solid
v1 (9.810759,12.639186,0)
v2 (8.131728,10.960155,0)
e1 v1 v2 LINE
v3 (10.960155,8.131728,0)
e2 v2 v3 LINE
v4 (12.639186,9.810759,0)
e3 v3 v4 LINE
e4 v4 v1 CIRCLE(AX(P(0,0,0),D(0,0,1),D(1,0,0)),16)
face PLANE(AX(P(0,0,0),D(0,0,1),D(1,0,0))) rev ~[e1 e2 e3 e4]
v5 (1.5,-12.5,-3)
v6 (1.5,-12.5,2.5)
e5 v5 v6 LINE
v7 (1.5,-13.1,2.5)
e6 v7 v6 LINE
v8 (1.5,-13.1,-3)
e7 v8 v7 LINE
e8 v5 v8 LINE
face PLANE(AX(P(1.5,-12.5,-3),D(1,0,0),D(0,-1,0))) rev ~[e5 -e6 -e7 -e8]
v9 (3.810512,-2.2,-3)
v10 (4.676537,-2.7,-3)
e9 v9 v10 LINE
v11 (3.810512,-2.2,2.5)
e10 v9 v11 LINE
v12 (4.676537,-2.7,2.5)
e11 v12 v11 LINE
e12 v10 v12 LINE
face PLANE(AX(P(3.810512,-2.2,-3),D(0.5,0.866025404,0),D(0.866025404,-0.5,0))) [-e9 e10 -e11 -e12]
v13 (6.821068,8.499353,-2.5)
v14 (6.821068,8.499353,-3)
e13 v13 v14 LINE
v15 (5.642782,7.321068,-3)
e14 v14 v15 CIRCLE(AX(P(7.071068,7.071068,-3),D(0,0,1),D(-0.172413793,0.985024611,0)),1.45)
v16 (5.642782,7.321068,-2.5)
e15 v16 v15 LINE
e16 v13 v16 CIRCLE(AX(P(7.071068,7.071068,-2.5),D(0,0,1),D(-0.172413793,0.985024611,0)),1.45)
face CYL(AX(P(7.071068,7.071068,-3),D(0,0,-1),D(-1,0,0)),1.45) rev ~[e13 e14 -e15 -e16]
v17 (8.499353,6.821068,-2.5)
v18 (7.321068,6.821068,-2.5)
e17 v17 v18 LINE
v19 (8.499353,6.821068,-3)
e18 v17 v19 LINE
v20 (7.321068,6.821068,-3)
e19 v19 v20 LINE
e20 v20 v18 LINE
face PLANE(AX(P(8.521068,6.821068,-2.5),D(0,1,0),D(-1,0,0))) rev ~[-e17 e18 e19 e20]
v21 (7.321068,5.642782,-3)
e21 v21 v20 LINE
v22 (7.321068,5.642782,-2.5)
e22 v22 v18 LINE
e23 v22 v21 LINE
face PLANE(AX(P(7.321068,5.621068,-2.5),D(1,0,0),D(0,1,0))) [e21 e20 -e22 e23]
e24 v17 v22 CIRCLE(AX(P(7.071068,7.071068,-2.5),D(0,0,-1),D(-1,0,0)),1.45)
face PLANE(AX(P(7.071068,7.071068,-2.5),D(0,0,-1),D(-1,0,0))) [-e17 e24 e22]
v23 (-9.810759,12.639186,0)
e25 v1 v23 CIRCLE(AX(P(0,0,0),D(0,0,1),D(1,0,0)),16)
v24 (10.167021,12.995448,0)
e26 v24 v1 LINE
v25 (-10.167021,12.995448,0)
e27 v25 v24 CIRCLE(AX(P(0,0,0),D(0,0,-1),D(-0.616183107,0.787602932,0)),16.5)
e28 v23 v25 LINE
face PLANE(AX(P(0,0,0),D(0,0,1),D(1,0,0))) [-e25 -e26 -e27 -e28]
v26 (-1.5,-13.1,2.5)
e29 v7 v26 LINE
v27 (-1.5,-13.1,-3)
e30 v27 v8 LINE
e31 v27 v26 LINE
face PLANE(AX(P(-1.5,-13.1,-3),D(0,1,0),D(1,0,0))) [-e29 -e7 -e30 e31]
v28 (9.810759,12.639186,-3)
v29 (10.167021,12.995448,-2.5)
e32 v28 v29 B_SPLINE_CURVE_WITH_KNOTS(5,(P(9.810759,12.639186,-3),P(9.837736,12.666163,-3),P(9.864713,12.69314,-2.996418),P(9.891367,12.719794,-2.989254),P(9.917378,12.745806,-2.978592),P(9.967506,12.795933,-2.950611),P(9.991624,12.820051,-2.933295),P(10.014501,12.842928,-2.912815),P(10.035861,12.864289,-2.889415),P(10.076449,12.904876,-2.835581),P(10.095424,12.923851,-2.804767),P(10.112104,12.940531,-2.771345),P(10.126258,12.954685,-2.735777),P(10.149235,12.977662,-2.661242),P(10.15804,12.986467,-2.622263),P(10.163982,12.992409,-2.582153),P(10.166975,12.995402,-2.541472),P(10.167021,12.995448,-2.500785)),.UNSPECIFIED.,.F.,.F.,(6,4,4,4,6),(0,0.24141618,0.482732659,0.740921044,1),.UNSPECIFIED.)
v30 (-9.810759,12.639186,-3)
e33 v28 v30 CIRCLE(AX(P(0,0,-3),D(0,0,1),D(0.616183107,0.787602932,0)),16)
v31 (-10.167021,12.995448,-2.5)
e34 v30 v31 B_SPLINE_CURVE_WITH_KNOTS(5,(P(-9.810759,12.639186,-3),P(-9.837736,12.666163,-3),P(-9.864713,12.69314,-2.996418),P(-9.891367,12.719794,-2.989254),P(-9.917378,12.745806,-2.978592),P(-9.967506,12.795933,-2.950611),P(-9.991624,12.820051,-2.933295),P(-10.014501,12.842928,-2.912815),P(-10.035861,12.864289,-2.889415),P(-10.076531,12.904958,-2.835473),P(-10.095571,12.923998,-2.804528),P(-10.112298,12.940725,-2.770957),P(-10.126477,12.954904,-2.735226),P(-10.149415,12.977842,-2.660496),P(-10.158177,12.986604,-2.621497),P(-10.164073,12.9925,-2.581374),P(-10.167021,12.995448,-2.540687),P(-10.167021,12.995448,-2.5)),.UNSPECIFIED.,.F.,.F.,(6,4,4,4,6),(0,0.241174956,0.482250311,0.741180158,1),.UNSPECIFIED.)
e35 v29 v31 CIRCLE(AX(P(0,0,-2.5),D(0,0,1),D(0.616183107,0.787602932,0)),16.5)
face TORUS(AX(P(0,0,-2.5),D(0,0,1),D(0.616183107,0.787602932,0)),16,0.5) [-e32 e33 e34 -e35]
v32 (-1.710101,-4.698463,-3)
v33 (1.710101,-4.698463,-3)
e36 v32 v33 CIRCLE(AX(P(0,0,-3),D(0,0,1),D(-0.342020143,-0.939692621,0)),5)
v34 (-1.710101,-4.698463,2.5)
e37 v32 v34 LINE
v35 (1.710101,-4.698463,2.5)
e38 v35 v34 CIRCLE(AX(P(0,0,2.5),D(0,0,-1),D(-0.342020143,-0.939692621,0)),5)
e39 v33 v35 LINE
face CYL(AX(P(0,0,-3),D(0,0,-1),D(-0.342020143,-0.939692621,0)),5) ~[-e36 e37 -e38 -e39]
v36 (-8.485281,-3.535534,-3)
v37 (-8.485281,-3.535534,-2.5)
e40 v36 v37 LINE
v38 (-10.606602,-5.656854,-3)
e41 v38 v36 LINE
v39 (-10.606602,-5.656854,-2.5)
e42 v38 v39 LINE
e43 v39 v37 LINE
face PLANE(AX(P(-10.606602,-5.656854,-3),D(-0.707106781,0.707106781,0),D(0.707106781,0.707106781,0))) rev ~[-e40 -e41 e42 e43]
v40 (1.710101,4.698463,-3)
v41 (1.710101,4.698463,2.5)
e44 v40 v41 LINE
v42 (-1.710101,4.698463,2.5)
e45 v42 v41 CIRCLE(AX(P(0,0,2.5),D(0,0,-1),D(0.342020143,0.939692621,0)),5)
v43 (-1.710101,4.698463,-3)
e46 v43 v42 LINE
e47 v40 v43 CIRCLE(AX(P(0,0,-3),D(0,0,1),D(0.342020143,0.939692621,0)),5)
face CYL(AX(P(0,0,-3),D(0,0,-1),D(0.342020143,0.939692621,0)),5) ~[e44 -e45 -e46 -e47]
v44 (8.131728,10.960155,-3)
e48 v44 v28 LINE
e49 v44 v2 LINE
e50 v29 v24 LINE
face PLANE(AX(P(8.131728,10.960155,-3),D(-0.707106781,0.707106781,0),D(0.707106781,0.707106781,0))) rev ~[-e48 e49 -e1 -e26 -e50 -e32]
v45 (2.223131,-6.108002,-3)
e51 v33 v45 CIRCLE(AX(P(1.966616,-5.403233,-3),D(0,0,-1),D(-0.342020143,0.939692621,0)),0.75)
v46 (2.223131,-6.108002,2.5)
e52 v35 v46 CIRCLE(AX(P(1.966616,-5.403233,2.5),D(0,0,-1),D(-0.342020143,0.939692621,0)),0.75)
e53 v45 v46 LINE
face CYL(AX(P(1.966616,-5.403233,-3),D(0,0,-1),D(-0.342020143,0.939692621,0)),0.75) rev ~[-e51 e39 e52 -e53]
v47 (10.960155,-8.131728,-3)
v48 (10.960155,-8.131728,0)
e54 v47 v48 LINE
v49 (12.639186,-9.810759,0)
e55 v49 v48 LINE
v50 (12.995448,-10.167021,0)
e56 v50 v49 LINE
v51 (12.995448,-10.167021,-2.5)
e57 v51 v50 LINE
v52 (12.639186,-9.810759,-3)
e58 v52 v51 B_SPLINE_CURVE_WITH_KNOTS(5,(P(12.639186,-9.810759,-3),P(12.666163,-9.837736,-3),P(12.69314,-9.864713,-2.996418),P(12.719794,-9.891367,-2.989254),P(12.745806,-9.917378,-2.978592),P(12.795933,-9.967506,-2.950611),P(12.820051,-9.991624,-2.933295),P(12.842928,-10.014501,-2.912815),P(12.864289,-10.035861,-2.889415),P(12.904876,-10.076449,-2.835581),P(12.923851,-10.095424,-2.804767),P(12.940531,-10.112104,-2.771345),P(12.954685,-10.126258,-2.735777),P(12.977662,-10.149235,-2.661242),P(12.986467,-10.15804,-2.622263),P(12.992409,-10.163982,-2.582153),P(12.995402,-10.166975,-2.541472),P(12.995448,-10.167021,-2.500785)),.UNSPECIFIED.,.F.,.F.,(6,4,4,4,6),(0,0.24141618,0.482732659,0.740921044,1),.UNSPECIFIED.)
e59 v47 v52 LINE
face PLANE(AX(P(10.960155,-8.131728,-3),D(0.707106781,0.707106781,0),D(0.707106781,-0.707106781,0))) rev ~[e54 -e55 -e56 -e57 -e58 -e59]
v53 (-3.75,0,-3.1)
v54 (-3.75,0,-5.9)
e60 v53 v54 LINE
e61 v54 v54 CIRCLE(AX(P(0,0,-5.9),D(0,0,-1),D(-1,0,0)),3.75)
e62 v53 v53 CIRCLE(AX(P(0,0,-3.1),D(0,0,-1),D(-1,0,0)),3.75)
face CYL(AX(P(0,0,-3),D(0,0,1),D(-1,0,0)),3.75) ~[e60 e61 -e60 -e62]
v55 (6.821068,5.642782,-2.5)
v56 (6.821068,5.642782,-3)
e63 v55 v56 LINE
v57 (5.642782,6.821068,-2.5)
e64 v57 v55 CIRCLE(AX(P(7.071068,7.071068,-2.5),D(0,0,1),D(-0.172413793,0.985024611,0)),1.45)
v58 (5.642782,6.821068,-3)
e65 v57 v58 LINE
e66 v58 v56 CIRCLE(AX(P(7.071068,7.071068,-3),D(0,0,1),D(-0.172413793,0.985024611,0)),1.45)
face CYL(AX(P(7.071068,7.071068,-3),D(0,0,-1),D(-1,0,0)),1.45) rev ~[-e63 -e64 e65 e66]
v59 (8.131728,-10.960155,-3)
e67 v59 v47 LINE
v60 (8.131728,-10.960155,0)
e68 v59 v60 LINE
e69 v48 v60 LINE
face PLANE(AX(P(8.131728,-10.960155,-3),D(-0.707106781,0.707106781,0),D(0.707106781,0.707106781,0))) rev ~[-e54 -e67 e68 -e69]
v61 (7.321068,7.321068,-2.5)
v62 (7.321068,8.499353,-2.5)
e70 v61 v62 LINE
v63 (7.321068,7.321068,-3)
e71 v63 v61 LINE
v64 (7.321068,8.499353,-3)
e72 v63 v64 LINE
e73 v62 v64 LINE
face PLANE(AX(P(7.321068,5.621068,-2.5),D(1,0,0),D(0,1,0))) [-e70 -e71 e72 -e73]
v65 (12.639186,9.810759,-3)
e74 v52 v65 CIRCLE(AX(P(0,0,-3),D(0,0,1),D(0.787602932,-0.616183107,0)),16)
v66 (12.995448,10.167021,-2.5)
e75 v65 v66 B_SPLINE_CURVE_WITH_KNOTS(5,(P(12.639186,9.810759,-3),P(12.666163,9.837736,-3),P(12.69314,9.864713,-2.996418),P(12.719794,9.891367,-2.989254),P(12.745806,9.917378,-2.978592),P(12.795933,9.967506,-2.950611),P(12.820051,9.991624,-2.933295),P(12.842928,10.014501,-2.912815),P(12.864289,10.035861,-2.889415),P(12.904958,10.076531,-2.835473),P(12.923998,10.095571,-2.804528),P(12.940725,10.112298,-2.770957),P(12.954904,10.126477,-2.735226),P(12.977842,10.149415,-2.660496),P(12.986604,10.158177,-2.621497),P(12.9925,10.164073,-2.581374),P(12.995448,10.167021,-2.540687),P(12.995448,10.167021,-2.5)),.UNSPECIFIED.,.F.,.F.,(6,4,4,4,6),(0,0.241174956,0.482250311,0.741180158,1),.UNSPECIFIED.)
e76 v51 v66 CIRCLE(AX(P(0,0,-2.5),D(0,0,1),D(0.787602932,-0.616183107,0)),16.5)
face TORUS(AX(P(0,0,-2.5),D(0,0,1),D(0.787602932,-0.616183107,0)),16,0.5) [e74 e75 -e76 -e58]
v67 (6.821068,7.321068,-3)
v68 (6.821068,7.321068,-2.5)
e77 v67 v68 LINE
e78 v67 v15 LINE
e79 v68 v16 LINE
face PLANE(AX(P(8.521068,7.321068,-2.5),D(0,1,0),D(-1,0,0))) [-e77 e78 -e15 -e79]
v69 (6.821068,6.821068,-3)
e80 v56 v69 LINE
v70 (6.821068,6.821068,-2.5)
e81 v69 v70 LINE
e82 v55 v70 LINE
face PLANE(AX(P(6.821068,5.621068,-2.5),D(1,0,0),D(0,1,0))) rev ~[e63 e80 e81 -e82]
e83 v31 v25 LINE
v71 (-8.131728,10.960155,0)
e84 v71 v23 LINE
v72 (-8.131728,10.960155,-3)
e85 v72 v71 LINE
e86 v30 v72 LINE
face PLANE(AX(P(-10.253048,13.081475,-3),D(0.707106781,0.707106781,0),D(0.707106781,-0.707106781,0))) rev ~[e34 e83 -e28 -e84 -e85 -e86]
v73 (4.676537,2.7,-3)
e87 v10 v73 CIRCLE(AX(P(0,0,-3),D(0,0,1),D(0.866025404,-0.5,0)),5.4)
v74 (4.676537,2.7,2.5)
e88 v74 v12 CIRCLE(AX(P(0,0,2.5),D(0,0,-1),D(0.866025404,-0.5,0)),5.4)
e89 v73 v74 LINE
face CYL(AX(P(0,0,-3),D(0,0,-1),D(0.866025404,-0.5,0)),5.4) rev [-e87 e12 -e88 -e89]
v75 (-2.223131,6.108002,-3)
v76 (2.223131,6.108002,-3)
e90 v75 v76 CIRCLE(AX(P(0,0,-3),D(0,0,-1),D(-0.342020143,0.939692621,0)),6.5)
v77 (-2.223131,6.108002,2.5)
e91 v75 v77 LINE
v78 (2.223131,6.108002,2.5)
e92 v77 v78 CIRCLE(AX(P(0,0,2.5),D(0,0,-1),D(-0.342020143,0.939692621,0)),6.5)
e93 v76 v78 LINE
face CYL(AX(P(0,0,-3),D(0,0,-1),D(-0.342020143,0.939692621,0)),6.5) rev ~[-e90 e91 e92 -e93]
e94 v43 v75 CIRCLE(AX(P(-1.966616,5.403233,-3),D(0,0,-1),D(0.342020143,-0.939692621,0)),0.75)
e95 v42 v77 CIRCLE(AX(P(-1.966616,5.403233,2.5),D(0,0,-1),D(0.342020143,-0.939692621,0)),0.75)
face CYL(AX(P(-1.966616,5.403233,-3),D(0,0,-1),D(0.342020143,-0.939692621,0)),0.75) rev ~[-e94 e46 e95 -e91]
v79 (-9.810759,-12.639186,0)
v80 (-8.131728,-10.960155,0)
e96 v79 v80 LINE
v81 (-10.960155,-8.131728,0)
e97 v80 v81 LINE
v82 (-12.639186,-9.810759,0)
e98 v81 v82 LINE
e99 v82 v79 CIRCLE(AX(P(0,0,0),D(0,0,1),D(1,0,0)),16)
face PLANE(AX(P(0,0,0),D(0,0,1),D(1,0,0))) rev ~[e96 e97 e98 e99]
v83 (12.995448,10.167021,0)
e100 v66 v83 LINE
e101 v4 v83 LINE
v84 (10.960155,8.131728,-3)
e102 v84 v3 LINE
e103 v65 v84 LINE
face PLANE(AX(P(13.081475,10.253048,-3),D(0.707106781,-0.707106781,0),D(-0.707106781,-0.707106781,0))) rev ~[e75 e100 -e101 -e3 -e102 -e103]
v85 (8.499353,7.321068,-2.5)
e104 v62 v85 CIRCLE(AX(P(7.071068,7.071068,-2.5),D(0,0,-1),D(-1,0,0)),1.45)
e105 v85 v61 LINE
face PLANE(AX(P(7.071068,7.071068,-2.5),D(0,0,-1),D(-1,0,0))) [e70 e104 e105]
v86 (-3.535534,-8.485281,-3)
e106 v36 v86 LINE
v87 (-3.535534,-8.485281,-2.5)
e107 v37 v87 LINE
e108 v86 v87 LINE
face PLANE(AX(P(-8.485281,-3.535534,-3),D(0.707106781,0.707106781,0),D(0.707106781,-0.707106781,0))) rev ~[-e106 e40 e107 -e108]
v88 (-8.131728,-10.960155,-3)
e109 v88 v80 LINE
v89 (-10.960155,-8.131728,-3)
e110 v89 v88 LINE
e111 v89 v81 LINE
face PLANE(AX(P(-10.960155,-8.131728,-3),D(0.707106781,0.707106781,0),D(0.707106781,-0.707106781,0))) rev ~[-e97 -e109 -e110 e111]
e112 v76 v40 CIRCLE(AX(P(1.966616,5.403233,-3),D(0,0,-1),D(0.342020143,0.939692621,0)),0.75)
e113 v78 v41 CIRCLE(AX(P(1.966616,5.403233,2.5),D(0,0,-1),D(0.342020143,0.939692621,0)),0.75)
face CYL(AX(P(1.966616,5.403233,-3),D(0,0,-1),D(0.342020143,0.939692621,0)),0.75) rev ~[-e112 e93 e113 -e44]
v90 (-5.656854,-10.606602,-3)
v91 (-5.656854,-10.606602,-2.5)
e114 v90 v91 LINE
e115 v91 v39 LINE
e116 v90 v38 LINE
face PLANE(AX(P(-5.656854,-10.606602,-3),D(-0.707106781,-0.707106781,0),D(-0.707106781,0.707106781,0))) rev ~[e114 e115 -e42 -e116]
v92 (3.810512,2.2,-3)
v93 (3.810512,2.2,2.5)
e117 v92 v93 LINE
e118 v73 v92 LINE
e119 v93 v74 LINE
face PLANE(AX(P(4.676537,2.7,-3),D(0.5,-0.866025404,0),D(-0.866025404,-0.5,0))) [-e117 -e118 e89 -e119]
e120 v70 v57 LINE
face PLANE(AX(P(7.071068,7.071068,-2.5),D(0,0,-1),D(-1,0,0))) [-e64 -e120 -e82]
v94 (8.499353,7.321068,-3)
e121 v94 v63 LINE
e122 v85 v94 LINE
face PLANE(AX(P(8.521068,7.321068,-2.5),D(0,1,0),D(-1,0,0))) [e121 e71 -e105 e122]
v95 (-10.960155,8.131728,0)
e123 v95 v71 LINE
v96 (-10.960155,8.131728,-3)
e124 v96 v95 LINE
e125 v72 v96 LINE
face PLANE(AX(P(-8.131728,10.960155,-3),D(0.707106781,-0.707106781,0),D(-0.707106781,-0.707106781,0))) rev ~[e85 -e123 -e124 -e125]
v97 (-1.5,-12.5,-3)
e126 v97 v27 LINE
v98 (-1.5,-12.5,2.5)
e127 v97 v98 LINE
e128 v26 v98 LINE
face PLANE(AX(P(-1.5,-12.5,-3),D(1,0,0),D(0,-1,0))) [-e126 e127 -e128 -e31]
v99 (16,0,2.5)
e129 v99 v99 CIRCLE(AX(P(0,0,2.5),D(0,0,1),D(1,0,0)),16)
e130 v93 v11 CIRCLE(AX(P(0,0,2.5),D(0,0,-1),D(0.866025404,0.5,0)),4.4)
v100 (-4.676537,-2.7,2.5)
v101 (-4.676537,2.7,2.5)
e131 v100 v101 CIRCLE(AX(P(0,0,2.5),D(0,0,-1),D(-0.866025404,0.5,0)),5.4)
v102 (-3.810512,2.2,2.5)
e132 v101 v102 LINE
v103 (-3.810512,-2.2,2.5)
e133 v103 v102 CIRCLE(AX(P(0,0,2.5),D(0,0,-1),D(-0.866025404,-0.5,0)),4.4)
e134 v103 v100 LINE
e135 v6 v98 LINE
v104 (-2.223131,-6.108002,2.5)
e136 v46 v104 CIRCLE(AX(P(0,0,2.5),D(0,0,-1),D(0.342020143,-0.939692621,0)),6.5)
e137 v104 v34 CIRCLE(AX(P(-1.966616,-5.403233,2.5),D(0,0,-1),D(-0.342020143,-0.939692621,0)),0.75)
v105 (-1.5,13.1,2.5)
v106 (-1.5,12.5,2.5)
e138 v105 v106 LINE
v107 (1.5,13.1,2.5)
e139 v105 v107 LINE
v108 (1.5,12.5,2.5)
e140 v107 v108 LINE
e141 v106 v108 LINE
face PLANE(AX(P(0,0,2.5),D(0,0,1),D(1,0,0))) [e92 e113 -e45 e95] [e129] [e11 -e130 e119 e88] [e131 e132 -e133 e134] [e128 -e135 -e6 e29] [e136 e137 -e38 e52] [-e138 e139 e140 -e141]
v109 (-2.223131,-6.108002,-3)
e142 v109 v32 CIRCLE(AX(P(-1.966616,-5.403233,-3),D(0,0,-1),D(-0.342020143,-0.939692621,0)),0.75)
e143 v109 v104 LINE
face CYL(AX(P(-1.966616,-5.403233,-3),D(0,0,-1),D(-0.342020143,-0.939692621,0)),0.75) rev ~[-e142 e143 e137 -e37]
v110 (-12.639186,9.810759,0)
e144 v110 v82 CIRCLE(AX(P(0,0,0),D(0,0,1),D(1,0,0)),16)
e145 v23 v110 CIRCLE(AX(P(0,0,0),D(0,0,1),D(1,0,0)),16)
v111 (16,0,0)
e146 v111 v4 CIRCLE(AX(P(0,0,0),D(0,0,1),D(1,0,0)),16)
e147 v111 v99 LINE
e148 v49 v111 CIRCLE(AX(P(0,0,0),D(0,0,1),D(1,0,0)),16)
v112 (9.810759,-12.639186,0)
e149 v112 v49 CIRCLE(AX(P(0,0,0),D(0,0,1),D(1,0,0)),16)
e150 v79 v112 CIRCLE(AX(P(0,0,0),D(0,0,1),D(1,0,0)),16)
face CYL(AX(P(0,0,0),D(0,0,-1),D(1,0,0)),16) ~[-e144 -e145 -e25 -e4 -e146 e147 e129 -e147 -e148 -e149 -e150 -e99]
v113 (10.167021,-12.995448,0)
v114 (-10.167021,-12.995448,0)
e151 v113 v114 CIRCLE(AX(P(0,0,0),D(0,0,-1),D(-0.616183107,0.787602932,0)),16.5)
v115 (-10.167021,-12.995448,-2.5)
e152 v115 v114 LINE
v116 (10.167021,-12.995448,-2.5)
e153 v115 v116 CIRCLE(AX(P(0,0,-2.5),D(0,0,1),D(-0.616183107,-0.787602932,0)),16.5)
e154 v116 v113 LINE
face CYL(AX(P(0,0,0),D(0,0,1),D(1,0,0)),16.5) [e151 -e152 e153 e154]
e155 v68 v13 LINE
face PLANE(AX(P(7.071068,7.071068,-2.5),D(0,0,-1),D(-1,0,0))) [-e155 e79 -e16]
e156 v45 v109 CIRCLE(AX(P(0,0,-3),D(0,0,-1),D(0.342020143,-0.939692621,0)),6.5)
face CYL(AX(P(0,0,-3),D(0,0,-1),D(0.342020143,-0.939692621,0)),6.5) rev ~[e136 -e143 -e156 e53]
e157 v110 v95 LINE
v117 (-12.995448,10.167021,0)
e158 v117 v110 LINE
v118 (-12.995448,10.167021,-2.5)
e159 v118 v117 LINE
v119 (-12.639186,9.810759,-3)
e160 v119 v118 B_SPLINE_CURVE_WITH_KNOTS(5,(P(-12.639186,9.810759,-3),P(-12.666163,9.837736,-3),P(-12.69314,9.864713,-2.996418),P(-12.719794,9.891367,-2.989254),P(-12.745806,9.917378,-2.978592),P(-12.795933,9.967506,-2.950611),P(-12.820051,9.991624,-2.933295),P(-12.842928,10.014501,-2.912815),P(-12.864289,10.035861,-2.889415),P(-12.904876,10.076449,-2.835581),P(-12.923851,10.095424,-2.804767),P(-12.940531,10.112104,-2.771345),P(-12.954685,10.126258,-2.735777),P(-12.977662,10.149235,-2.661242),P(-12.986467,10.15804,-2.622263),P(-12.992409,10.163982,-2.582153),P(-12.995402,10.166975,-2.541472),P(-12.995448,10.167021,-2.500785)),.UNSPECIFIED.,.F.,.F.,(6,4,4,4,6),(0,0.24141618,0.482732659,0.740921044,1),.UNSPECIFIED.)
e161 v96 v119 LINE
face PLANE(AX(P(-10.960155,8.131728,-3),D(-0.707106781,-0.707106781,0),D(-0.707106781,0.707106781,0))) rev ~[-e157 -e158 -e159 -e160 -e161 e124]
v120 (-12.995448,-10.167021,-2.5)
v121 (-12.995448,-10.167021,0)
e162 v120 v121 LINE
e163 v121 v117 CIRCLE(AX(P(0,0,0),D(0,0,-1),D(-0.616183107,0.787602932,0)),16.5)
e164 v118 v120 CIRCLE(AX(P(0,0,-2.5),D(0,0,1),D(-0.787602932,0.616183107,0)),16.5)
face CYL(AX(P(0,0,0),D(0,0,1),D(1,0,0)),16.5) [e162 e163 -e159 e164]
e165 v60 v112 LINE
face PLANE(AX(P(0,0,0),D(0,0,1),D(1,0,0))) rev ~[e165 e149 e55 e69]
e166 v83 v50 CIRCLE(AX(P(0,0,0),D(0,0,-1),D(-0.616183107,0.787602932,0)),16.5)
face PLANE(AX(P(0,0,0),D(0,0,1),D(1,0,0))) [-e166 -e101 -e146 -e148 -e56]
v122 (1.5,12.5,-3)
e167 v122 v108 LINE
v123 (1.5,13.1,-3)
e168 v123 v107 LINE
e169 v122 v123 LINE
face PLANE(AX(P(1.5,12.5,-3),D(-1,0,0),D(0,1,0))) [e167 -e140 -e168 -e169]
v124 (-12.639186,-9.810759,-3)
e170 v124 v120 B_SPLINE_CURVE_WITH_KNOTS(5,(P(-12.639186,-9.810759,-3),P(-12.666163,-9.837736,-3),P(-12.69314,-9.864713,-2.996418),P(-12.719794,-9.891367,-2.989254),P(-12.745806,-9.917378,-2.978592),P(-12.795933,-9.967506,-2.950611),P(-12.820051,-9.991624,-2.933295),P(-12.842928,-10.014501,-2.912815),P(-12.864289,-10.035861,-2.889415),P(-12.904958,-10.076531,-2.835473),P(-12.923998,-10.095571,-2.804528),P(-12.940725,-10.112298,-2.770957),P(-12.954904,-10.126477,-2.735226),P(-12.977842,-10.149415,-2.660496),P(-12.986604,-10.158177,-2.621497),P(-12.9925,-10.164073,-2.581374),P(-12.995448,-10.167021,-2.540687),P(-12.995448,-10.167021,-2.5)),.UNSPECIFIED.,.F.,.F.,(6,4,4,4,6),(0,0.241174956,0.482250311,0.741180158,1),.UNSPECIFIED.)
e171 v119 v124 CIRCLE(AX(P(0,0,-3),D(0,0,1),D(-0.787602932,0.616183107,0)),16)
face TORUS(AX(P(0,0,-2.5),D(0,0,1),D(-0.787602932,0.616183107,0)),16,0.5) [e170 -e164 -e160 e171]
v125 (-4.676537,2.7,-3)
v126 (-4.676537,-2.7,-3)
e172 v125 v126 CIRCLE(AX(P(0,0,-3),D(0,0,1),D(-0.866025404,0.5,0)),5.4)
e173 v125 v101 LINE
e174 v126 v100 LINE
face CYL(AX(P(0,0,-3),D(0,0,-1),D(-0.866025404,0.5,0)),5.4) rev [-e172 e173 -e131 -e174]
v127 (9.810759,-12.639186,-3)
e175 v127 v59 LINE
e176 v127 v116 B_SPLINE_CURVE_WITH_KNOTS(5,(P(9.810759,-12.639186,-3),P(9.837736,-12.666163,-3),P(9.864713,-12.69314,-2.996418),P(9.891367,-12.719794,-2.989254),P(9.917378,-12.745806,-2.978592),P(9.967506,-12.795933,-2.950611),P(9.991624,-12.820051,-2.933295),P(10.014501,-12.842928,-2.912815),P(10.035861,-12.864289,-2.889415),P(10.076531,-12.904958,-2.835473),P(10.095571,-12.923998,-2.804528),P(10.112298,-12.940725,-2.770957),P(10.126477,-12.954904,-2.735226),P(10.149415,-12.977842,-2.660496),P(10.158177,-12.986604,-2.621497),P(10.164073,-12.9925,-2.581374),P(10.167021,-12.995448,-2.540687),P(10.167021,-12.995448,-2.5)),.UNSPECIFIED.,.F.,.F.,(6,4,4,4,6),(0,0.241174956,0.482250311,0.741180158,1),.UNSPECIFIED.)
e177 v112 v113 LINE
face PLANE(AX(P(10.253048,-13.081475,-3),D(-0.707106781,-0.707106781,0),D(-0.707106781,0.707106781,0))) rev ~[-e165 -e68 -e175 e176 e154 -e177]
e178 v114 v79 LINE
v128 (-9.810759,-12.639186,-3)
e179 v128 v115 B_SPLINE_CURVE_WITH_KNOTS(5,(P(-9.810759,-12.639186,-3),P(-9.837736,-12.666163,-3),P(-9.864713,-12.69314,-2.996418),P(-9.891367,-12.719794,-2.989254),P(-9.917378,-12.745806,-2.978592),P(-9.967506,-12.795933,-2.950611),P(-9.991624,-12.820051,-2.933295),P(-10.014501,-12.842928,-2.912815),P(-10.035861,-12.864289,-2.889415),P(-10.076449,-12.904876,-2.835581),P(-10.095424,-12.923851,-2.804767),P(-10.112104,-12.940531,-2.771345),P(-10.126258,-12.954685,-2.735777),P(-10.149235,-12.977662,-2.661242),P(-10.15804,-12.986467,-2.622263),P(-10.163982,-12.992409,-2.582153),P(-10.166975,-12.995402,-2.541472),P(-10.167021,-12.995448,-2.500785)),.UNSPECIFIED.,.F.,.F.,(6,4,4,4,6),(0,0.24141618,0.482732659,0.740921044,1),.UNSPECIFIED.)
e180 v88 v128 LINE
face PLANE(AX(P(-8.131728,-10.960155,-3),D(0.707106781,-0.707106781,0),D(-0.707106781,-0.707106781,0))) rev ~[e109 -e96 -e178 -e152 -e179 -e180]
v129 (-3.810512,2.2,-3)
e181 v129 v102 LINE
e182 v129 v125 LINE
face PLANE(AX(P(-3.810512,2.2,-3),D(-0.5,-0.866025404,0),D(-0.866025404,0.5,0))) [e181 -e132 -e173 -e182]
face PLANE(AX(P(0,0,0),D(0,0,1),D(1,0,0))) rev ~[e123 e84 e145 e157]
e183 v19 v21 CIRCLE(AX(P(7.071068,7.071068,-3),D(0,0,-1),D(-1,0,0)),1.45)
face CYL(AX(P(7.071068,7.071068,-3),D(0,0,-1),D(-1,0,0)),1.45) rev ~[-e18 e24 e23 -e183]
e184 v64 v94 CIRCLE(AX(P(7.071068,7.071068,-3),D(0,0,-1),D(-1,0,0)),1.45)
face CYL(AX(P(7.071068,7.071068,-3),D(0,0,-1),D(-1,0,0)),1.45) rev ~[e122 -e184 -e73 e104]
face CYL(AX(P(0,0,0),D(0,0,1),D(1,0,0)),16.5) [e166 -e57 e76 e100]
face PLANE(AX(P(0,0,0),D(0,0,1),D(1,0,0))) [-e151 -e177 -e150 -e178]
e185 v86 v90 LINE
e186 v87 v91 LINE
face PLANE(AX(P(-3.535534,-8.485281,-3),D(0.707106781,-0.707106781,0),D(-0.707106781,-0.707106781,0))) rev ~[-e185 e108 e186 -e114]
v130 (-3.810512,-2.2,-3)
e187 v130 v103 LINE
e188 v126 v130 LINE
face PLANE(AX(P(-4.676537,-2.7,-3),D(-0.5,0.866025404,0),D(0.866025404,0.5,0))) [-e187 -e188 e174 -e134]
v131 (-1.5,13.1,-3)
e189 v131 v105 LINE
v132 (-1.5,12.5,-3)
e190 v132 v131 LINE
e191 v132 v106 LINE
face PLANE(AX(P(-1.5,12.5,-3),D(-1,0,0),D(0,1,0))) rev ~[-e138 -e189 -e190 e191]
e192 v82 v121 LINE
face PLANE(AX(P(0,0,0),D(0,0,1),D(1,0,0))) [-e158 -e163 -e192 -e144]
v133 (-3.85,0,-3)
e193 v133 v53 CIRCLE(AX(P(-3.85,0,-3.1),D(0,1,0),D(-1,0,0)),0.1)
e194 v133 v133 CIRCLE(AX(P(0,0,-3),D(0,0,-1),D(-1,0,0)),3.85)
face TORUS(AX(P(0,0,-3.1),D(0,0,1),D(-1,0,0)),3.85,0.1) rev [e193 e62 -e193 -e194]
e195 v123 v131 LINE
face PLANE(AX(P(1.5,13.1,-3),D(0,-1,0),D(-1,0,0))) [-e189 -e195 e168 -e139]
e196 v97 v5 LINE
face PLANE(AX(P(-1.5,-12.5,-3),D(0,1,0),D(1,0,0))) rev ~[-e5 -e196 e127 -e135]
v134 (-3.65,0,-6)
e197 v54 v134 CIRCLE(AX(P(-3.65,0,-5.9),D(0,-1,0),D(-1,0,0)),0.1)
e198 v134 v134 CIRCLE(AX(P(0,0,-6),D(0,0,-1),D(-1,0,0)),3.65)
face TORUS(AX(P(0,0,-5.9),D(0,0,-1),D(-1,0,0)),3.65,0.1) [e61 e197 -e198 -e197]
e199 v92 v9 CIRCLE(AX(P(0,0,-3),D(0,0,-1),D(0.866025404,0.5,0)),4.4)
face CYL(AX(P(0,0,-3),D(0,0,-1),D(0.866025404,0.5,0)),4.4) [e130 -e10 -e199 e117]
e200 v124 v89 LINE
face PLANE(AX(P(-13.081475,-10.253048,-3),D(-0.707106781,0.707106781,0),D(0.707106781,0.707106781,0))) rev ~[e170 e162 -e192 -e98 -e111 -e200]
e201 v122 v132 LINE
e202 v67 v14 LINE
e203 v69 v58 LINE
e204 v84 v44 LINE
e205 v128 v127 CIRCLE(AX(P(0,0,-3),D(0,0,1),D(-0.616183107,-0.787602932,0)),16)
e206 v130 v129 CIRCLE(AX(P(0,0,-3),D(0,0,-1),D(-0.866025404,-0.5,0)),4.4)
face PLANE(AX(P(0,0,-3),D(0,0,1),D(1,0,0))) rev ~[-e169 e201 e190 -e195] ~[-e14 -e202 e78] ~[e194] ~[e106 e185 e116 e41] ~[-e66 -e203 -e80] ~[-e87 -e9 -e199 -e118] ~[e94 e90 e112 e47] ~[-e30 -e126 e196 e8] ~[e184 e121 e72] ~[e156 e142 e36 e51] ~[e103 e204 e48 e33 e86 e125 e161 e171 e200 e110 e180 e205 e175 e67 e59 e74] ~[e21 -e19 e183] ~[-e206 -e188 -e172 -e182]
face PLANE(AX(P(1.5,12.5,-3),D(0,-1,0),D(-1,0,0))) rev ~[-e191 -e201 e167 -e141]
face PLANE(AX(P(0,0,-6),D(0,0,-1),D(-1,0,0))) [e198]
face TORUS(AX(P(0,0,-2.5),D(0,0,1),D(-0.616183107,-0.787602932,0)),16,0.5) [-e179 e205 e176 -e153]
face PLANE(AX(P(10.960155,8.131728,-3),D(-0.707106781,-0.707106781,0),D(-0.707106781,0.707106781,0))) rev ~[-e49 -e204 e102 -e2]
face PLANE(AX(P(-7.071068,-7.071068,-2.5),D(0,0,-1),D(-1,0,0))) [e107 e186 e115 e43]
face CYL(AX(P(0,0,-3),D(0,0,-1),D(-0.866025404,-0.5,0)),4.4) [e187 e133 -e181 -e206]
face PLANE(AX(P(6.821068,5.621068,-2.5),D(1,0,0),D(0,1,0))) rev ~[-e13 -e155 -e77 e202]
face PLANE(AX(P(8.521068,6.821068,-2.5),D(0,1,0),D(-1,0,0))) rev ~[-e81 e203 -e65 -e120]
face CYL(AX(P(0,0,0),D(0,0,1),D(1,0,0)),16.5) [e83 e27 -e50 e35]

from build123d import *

# Parameters (mm, degrees)
SKETCH1_R           = 16.5
BOSS_EXTRUDE1_DEPTH = 3
SKETCH2_R           = 3.75
BOSS_EXTRUDE2_DEPTH = 3
CUT_EXTRUDE1_DEPTH  = 4
CIRPATTERN1_COUNT   = 4
SKETCH4_R           = 16
BOSS_EXTRUDE3_DEPTH = 2.5
CUT_EXTRUDE2_DEPTH  = 6.5
CIRPATTERN2_COUNT   = 2
CUT_EXTRUDE3_DEPTH  = 6.5
CIRPATTERN3_COUNT   = 2
SKETCH8_R           = 1.45
CUT_EXTRUDE4_DEPTH  = 0.5
SKETCH9_W           = 0.5
SKETCH9_H           = 2.9
EXTRUDE_THIN1_DEPTH = 0.5
SKETCH10_W          = 2.9
SKETCH10_H          = 0.5
EXTRUDE_THIN2_DEPTH = 0.5
SKETCH11_W          = 3
SKETCH11_H          = 0.6
CUT_EXTRUDE5_DEPTH  = 6.5
CIRPATTERN4_COUNT   = 2
FILLET1_R           = 0.1
FILLET2_R           = 0.5


with BuildPart() as part:
    # Sketch1 → Boss-Extrude1 (new body)
    with BuildSketch(Plane.XY):
        Circle(SKETCH1_R)
    extrude(amount=-BOSS_EXTRUDE1_DEPTH)

    # Sketch2 → Boss-Extrude2 (add)
    with BuildSketch(Plane(origin=(0, 0, -3), x_dir=(-1, 0, 0), z_dir=(0, 0, -1))):
        Circle(SKETCH2_R)
    extrude(amount=BOSS_EXTRUDE2_DEPTH)

    # Sketch3 → Cut-Extrude1 (cut, through all)
    with BuildSketch(Plane(origin=(0, 0, -3), x_dir=(-1, 0, 0), z_dir=(0, 0, -1))):
        Polygon((10.253048327, 13.081475452), (8.131727984, 10.960155108), (10.960155108, 8.131727984), (13.081475452, 10.253048327), align=None)
    cut_extrude1 = extrude(amount=-CUT_EXTRUDE1_DEPTH, mode=Mode.SUBTRACT)

    # CirPattern1: Cut-Extrude1 ×4 about axis
    cirpattern1_axis = Axis((0, 0, 0), (0, 0, 1))
    for i in range(1, CIRPATTERN1_COUNT):
        add(cut_extrude1.rotate(cirpattern1_axis, i * 360 / CIRPATTERN1_COUNT), mode=Mode.SUBTRACT)

    # Sketch4 → Boss-Extrude3 (add)
    with BuildSketch(Plane.XY):
        Circle(SKETCH4_R)
    extrude(amount=BOSS_EXTRUDE3_DEPTH)

    # Sketch6 → Cut-Extrude2 (cut, through all)
    with BuildSketch(Plane(origin=(0, 0, -3), x_dir=(-1, 0, 0), z_dir=(0, 0, -1))):
        with BuildLine():
            Line((-4.67653718, 2.7), (-3.810511777, 2.2))
            ThreePointArc((-3.810511777, 2.2), (-4.4, 0), (-3.810511777, -2.2))
            Line((-3.810511777, -2.2), (-4.67653718, -2.7))
            ThreePointArc((-4.67653718, -2.7), (-5.4, 0), (-4.67653718, 2.7))
        make_face()
    cut_extrude2 = extrude(amount=-CUT_EXTRUDE2_DEPTH, mode=Mode.SUBTRACT)

    # CirPattern2: Cut-Extrude2 ×2 about axis
    cirpattern2_axis = Axis((0, 0, 0), (0, 0, 1))
    for i in range(1, CIRPATTERN2_COUNT):
        add(cut_extrude2.rotate(cirpattern2_axis, i * 360 / CIRPATTERN2_COUNT), mode=Mode.SUBTRACT)

    # Sketch7 → Cut-Extrude3 (cut, through all)
    with BuildSketch(Plane(origin=(0, 0, -3), x_dir=(-1, 0, 0), z_dir=(0, 0, -1))):
        with BuildLine():
            ThreePointArc((2.223130932, 6.108002035), (0, 6.5), (-2.223130932, 6.108002035))
            ThreePointArc((-2.223130932, 6.108002035), (-2.67138529, 5.146717462), (-1.710100717, 4.698463104))
            ThreePointArc((-1.710100717, 4.698463104), (0, 5), (1.710100717, 4.698463104))
            ThreePointArc((1.710100717, 4.698463104), (2.67138529, 5.146717462), (2.223130932, 6.108002035))
        make_face()
    cut_extrude3 = extrude(amount=-CUT_EXTRUDE3_DEPTH, mode=Mode.SUBTRACT)

    # CirPattern3: Cut-Extrude3 ×2 about axis
    cirpattern3_axis = Axis((0, 0, 0), (0, 0, 1))
    for i in range(1, CIRPATTERN3_COUNT):
        add(cut_extrude3.rotate(cirpattern3_axis, i * 360 / CIRPATTERN3_COUNT), mode=Mode.SUBTRACT)

    # Sketch8 → Cut-Extrude4 (cut)
    with BuildSketch(Plane(origin=(0, 0, -3), x_dir=(-1, 0, 0), z_dir=(0, 0, -1))):
        with Locations((-7.071067812, 7.071067812)):
            Circle(SKETCH8_R)
        Polygon((8.485281374, -3.535533906), (3.535533906, -8.485281374), (5.656854249, -10.606601718), (10.606601718, -5.656854249), align=None)
    extrude(amount=-CUT_EXTRUDE4_DEPTH, mode=Mode.SUBTRACT)

    # Sketch9 → Extrude-Thin1 (add)
    with BuildSketch(Plane(origin=(0, 0, -2.5), x_dir=(-1, 0, 0), z_dir=(0, 0, -1))):
        with Locations((-7.071067812, 7.071067812)):
            Rectangle(SKETCH9_W, SKETCH9_H)
    extrude(amount=EXTRUDE_THIN1_DEPTH)

    # Sketch10 → Extrude-Thin2 (add)
    with BuildSketch(Plane(origin=(0, 0, -2.5), x_dir=(-1, 0, 0), z_dir=(0, 0, -1))):
        with Locations((-7.071067812, 7.071067812)):
            Rectangle(SKETCH10_W, SKETCH10_H)
    extrude(amount=EXTRUDE_THIN2_DEPTH)

    # Sketch11 → Cut-Extrude5 (cut, through all)
    with BuildSketch(Plane(origin=(0, 0, -3), x_dir=(-1, 0, 0), z_dir=(0, 0, -1))):
        with Locations((0, 12.8)):
            Rectangle(SKETCH11_W, SKETCH11_H)
    cut_extrude5 = extrude(amount=-CUT_EXTRUDE5_DEPTH, mode=Mode.SUBTRACT)

    # CirPattern4: Cut-Extrude5 ×2 about axis
    cirpattern4_axis = Axis((0, 0, 0), (0, 0, 1))
    for i in range(1, CIRPATTERN4_COUNT):
        add(cut_extrude5.rotate(cirpattern4_axis, i * 360 / CIRPATTERN4_COUNT), mode=Mode.SUBTRACT)

    # Fillet1
    fillet1_edges = [part.edges().sort_by_distance(p)[0] for p in [
        (3.75, 0, -3),
        (3.75, 0, -6),
    ]]
    fillet(fillet1_edges, radius=FILLET1_R)

    # Fillet2
    fillet2_edges = [part.edges().sort_by_distance(p)[0] for p in [
        (-16.5, 0, -3),
        (0, -16.5, -3),
        (16.5, 0, -3),
        (0, 16.5, -3),
    ]]
    fillet(fillet2_edges, radius=FILLET2_R)


solid = part.part
